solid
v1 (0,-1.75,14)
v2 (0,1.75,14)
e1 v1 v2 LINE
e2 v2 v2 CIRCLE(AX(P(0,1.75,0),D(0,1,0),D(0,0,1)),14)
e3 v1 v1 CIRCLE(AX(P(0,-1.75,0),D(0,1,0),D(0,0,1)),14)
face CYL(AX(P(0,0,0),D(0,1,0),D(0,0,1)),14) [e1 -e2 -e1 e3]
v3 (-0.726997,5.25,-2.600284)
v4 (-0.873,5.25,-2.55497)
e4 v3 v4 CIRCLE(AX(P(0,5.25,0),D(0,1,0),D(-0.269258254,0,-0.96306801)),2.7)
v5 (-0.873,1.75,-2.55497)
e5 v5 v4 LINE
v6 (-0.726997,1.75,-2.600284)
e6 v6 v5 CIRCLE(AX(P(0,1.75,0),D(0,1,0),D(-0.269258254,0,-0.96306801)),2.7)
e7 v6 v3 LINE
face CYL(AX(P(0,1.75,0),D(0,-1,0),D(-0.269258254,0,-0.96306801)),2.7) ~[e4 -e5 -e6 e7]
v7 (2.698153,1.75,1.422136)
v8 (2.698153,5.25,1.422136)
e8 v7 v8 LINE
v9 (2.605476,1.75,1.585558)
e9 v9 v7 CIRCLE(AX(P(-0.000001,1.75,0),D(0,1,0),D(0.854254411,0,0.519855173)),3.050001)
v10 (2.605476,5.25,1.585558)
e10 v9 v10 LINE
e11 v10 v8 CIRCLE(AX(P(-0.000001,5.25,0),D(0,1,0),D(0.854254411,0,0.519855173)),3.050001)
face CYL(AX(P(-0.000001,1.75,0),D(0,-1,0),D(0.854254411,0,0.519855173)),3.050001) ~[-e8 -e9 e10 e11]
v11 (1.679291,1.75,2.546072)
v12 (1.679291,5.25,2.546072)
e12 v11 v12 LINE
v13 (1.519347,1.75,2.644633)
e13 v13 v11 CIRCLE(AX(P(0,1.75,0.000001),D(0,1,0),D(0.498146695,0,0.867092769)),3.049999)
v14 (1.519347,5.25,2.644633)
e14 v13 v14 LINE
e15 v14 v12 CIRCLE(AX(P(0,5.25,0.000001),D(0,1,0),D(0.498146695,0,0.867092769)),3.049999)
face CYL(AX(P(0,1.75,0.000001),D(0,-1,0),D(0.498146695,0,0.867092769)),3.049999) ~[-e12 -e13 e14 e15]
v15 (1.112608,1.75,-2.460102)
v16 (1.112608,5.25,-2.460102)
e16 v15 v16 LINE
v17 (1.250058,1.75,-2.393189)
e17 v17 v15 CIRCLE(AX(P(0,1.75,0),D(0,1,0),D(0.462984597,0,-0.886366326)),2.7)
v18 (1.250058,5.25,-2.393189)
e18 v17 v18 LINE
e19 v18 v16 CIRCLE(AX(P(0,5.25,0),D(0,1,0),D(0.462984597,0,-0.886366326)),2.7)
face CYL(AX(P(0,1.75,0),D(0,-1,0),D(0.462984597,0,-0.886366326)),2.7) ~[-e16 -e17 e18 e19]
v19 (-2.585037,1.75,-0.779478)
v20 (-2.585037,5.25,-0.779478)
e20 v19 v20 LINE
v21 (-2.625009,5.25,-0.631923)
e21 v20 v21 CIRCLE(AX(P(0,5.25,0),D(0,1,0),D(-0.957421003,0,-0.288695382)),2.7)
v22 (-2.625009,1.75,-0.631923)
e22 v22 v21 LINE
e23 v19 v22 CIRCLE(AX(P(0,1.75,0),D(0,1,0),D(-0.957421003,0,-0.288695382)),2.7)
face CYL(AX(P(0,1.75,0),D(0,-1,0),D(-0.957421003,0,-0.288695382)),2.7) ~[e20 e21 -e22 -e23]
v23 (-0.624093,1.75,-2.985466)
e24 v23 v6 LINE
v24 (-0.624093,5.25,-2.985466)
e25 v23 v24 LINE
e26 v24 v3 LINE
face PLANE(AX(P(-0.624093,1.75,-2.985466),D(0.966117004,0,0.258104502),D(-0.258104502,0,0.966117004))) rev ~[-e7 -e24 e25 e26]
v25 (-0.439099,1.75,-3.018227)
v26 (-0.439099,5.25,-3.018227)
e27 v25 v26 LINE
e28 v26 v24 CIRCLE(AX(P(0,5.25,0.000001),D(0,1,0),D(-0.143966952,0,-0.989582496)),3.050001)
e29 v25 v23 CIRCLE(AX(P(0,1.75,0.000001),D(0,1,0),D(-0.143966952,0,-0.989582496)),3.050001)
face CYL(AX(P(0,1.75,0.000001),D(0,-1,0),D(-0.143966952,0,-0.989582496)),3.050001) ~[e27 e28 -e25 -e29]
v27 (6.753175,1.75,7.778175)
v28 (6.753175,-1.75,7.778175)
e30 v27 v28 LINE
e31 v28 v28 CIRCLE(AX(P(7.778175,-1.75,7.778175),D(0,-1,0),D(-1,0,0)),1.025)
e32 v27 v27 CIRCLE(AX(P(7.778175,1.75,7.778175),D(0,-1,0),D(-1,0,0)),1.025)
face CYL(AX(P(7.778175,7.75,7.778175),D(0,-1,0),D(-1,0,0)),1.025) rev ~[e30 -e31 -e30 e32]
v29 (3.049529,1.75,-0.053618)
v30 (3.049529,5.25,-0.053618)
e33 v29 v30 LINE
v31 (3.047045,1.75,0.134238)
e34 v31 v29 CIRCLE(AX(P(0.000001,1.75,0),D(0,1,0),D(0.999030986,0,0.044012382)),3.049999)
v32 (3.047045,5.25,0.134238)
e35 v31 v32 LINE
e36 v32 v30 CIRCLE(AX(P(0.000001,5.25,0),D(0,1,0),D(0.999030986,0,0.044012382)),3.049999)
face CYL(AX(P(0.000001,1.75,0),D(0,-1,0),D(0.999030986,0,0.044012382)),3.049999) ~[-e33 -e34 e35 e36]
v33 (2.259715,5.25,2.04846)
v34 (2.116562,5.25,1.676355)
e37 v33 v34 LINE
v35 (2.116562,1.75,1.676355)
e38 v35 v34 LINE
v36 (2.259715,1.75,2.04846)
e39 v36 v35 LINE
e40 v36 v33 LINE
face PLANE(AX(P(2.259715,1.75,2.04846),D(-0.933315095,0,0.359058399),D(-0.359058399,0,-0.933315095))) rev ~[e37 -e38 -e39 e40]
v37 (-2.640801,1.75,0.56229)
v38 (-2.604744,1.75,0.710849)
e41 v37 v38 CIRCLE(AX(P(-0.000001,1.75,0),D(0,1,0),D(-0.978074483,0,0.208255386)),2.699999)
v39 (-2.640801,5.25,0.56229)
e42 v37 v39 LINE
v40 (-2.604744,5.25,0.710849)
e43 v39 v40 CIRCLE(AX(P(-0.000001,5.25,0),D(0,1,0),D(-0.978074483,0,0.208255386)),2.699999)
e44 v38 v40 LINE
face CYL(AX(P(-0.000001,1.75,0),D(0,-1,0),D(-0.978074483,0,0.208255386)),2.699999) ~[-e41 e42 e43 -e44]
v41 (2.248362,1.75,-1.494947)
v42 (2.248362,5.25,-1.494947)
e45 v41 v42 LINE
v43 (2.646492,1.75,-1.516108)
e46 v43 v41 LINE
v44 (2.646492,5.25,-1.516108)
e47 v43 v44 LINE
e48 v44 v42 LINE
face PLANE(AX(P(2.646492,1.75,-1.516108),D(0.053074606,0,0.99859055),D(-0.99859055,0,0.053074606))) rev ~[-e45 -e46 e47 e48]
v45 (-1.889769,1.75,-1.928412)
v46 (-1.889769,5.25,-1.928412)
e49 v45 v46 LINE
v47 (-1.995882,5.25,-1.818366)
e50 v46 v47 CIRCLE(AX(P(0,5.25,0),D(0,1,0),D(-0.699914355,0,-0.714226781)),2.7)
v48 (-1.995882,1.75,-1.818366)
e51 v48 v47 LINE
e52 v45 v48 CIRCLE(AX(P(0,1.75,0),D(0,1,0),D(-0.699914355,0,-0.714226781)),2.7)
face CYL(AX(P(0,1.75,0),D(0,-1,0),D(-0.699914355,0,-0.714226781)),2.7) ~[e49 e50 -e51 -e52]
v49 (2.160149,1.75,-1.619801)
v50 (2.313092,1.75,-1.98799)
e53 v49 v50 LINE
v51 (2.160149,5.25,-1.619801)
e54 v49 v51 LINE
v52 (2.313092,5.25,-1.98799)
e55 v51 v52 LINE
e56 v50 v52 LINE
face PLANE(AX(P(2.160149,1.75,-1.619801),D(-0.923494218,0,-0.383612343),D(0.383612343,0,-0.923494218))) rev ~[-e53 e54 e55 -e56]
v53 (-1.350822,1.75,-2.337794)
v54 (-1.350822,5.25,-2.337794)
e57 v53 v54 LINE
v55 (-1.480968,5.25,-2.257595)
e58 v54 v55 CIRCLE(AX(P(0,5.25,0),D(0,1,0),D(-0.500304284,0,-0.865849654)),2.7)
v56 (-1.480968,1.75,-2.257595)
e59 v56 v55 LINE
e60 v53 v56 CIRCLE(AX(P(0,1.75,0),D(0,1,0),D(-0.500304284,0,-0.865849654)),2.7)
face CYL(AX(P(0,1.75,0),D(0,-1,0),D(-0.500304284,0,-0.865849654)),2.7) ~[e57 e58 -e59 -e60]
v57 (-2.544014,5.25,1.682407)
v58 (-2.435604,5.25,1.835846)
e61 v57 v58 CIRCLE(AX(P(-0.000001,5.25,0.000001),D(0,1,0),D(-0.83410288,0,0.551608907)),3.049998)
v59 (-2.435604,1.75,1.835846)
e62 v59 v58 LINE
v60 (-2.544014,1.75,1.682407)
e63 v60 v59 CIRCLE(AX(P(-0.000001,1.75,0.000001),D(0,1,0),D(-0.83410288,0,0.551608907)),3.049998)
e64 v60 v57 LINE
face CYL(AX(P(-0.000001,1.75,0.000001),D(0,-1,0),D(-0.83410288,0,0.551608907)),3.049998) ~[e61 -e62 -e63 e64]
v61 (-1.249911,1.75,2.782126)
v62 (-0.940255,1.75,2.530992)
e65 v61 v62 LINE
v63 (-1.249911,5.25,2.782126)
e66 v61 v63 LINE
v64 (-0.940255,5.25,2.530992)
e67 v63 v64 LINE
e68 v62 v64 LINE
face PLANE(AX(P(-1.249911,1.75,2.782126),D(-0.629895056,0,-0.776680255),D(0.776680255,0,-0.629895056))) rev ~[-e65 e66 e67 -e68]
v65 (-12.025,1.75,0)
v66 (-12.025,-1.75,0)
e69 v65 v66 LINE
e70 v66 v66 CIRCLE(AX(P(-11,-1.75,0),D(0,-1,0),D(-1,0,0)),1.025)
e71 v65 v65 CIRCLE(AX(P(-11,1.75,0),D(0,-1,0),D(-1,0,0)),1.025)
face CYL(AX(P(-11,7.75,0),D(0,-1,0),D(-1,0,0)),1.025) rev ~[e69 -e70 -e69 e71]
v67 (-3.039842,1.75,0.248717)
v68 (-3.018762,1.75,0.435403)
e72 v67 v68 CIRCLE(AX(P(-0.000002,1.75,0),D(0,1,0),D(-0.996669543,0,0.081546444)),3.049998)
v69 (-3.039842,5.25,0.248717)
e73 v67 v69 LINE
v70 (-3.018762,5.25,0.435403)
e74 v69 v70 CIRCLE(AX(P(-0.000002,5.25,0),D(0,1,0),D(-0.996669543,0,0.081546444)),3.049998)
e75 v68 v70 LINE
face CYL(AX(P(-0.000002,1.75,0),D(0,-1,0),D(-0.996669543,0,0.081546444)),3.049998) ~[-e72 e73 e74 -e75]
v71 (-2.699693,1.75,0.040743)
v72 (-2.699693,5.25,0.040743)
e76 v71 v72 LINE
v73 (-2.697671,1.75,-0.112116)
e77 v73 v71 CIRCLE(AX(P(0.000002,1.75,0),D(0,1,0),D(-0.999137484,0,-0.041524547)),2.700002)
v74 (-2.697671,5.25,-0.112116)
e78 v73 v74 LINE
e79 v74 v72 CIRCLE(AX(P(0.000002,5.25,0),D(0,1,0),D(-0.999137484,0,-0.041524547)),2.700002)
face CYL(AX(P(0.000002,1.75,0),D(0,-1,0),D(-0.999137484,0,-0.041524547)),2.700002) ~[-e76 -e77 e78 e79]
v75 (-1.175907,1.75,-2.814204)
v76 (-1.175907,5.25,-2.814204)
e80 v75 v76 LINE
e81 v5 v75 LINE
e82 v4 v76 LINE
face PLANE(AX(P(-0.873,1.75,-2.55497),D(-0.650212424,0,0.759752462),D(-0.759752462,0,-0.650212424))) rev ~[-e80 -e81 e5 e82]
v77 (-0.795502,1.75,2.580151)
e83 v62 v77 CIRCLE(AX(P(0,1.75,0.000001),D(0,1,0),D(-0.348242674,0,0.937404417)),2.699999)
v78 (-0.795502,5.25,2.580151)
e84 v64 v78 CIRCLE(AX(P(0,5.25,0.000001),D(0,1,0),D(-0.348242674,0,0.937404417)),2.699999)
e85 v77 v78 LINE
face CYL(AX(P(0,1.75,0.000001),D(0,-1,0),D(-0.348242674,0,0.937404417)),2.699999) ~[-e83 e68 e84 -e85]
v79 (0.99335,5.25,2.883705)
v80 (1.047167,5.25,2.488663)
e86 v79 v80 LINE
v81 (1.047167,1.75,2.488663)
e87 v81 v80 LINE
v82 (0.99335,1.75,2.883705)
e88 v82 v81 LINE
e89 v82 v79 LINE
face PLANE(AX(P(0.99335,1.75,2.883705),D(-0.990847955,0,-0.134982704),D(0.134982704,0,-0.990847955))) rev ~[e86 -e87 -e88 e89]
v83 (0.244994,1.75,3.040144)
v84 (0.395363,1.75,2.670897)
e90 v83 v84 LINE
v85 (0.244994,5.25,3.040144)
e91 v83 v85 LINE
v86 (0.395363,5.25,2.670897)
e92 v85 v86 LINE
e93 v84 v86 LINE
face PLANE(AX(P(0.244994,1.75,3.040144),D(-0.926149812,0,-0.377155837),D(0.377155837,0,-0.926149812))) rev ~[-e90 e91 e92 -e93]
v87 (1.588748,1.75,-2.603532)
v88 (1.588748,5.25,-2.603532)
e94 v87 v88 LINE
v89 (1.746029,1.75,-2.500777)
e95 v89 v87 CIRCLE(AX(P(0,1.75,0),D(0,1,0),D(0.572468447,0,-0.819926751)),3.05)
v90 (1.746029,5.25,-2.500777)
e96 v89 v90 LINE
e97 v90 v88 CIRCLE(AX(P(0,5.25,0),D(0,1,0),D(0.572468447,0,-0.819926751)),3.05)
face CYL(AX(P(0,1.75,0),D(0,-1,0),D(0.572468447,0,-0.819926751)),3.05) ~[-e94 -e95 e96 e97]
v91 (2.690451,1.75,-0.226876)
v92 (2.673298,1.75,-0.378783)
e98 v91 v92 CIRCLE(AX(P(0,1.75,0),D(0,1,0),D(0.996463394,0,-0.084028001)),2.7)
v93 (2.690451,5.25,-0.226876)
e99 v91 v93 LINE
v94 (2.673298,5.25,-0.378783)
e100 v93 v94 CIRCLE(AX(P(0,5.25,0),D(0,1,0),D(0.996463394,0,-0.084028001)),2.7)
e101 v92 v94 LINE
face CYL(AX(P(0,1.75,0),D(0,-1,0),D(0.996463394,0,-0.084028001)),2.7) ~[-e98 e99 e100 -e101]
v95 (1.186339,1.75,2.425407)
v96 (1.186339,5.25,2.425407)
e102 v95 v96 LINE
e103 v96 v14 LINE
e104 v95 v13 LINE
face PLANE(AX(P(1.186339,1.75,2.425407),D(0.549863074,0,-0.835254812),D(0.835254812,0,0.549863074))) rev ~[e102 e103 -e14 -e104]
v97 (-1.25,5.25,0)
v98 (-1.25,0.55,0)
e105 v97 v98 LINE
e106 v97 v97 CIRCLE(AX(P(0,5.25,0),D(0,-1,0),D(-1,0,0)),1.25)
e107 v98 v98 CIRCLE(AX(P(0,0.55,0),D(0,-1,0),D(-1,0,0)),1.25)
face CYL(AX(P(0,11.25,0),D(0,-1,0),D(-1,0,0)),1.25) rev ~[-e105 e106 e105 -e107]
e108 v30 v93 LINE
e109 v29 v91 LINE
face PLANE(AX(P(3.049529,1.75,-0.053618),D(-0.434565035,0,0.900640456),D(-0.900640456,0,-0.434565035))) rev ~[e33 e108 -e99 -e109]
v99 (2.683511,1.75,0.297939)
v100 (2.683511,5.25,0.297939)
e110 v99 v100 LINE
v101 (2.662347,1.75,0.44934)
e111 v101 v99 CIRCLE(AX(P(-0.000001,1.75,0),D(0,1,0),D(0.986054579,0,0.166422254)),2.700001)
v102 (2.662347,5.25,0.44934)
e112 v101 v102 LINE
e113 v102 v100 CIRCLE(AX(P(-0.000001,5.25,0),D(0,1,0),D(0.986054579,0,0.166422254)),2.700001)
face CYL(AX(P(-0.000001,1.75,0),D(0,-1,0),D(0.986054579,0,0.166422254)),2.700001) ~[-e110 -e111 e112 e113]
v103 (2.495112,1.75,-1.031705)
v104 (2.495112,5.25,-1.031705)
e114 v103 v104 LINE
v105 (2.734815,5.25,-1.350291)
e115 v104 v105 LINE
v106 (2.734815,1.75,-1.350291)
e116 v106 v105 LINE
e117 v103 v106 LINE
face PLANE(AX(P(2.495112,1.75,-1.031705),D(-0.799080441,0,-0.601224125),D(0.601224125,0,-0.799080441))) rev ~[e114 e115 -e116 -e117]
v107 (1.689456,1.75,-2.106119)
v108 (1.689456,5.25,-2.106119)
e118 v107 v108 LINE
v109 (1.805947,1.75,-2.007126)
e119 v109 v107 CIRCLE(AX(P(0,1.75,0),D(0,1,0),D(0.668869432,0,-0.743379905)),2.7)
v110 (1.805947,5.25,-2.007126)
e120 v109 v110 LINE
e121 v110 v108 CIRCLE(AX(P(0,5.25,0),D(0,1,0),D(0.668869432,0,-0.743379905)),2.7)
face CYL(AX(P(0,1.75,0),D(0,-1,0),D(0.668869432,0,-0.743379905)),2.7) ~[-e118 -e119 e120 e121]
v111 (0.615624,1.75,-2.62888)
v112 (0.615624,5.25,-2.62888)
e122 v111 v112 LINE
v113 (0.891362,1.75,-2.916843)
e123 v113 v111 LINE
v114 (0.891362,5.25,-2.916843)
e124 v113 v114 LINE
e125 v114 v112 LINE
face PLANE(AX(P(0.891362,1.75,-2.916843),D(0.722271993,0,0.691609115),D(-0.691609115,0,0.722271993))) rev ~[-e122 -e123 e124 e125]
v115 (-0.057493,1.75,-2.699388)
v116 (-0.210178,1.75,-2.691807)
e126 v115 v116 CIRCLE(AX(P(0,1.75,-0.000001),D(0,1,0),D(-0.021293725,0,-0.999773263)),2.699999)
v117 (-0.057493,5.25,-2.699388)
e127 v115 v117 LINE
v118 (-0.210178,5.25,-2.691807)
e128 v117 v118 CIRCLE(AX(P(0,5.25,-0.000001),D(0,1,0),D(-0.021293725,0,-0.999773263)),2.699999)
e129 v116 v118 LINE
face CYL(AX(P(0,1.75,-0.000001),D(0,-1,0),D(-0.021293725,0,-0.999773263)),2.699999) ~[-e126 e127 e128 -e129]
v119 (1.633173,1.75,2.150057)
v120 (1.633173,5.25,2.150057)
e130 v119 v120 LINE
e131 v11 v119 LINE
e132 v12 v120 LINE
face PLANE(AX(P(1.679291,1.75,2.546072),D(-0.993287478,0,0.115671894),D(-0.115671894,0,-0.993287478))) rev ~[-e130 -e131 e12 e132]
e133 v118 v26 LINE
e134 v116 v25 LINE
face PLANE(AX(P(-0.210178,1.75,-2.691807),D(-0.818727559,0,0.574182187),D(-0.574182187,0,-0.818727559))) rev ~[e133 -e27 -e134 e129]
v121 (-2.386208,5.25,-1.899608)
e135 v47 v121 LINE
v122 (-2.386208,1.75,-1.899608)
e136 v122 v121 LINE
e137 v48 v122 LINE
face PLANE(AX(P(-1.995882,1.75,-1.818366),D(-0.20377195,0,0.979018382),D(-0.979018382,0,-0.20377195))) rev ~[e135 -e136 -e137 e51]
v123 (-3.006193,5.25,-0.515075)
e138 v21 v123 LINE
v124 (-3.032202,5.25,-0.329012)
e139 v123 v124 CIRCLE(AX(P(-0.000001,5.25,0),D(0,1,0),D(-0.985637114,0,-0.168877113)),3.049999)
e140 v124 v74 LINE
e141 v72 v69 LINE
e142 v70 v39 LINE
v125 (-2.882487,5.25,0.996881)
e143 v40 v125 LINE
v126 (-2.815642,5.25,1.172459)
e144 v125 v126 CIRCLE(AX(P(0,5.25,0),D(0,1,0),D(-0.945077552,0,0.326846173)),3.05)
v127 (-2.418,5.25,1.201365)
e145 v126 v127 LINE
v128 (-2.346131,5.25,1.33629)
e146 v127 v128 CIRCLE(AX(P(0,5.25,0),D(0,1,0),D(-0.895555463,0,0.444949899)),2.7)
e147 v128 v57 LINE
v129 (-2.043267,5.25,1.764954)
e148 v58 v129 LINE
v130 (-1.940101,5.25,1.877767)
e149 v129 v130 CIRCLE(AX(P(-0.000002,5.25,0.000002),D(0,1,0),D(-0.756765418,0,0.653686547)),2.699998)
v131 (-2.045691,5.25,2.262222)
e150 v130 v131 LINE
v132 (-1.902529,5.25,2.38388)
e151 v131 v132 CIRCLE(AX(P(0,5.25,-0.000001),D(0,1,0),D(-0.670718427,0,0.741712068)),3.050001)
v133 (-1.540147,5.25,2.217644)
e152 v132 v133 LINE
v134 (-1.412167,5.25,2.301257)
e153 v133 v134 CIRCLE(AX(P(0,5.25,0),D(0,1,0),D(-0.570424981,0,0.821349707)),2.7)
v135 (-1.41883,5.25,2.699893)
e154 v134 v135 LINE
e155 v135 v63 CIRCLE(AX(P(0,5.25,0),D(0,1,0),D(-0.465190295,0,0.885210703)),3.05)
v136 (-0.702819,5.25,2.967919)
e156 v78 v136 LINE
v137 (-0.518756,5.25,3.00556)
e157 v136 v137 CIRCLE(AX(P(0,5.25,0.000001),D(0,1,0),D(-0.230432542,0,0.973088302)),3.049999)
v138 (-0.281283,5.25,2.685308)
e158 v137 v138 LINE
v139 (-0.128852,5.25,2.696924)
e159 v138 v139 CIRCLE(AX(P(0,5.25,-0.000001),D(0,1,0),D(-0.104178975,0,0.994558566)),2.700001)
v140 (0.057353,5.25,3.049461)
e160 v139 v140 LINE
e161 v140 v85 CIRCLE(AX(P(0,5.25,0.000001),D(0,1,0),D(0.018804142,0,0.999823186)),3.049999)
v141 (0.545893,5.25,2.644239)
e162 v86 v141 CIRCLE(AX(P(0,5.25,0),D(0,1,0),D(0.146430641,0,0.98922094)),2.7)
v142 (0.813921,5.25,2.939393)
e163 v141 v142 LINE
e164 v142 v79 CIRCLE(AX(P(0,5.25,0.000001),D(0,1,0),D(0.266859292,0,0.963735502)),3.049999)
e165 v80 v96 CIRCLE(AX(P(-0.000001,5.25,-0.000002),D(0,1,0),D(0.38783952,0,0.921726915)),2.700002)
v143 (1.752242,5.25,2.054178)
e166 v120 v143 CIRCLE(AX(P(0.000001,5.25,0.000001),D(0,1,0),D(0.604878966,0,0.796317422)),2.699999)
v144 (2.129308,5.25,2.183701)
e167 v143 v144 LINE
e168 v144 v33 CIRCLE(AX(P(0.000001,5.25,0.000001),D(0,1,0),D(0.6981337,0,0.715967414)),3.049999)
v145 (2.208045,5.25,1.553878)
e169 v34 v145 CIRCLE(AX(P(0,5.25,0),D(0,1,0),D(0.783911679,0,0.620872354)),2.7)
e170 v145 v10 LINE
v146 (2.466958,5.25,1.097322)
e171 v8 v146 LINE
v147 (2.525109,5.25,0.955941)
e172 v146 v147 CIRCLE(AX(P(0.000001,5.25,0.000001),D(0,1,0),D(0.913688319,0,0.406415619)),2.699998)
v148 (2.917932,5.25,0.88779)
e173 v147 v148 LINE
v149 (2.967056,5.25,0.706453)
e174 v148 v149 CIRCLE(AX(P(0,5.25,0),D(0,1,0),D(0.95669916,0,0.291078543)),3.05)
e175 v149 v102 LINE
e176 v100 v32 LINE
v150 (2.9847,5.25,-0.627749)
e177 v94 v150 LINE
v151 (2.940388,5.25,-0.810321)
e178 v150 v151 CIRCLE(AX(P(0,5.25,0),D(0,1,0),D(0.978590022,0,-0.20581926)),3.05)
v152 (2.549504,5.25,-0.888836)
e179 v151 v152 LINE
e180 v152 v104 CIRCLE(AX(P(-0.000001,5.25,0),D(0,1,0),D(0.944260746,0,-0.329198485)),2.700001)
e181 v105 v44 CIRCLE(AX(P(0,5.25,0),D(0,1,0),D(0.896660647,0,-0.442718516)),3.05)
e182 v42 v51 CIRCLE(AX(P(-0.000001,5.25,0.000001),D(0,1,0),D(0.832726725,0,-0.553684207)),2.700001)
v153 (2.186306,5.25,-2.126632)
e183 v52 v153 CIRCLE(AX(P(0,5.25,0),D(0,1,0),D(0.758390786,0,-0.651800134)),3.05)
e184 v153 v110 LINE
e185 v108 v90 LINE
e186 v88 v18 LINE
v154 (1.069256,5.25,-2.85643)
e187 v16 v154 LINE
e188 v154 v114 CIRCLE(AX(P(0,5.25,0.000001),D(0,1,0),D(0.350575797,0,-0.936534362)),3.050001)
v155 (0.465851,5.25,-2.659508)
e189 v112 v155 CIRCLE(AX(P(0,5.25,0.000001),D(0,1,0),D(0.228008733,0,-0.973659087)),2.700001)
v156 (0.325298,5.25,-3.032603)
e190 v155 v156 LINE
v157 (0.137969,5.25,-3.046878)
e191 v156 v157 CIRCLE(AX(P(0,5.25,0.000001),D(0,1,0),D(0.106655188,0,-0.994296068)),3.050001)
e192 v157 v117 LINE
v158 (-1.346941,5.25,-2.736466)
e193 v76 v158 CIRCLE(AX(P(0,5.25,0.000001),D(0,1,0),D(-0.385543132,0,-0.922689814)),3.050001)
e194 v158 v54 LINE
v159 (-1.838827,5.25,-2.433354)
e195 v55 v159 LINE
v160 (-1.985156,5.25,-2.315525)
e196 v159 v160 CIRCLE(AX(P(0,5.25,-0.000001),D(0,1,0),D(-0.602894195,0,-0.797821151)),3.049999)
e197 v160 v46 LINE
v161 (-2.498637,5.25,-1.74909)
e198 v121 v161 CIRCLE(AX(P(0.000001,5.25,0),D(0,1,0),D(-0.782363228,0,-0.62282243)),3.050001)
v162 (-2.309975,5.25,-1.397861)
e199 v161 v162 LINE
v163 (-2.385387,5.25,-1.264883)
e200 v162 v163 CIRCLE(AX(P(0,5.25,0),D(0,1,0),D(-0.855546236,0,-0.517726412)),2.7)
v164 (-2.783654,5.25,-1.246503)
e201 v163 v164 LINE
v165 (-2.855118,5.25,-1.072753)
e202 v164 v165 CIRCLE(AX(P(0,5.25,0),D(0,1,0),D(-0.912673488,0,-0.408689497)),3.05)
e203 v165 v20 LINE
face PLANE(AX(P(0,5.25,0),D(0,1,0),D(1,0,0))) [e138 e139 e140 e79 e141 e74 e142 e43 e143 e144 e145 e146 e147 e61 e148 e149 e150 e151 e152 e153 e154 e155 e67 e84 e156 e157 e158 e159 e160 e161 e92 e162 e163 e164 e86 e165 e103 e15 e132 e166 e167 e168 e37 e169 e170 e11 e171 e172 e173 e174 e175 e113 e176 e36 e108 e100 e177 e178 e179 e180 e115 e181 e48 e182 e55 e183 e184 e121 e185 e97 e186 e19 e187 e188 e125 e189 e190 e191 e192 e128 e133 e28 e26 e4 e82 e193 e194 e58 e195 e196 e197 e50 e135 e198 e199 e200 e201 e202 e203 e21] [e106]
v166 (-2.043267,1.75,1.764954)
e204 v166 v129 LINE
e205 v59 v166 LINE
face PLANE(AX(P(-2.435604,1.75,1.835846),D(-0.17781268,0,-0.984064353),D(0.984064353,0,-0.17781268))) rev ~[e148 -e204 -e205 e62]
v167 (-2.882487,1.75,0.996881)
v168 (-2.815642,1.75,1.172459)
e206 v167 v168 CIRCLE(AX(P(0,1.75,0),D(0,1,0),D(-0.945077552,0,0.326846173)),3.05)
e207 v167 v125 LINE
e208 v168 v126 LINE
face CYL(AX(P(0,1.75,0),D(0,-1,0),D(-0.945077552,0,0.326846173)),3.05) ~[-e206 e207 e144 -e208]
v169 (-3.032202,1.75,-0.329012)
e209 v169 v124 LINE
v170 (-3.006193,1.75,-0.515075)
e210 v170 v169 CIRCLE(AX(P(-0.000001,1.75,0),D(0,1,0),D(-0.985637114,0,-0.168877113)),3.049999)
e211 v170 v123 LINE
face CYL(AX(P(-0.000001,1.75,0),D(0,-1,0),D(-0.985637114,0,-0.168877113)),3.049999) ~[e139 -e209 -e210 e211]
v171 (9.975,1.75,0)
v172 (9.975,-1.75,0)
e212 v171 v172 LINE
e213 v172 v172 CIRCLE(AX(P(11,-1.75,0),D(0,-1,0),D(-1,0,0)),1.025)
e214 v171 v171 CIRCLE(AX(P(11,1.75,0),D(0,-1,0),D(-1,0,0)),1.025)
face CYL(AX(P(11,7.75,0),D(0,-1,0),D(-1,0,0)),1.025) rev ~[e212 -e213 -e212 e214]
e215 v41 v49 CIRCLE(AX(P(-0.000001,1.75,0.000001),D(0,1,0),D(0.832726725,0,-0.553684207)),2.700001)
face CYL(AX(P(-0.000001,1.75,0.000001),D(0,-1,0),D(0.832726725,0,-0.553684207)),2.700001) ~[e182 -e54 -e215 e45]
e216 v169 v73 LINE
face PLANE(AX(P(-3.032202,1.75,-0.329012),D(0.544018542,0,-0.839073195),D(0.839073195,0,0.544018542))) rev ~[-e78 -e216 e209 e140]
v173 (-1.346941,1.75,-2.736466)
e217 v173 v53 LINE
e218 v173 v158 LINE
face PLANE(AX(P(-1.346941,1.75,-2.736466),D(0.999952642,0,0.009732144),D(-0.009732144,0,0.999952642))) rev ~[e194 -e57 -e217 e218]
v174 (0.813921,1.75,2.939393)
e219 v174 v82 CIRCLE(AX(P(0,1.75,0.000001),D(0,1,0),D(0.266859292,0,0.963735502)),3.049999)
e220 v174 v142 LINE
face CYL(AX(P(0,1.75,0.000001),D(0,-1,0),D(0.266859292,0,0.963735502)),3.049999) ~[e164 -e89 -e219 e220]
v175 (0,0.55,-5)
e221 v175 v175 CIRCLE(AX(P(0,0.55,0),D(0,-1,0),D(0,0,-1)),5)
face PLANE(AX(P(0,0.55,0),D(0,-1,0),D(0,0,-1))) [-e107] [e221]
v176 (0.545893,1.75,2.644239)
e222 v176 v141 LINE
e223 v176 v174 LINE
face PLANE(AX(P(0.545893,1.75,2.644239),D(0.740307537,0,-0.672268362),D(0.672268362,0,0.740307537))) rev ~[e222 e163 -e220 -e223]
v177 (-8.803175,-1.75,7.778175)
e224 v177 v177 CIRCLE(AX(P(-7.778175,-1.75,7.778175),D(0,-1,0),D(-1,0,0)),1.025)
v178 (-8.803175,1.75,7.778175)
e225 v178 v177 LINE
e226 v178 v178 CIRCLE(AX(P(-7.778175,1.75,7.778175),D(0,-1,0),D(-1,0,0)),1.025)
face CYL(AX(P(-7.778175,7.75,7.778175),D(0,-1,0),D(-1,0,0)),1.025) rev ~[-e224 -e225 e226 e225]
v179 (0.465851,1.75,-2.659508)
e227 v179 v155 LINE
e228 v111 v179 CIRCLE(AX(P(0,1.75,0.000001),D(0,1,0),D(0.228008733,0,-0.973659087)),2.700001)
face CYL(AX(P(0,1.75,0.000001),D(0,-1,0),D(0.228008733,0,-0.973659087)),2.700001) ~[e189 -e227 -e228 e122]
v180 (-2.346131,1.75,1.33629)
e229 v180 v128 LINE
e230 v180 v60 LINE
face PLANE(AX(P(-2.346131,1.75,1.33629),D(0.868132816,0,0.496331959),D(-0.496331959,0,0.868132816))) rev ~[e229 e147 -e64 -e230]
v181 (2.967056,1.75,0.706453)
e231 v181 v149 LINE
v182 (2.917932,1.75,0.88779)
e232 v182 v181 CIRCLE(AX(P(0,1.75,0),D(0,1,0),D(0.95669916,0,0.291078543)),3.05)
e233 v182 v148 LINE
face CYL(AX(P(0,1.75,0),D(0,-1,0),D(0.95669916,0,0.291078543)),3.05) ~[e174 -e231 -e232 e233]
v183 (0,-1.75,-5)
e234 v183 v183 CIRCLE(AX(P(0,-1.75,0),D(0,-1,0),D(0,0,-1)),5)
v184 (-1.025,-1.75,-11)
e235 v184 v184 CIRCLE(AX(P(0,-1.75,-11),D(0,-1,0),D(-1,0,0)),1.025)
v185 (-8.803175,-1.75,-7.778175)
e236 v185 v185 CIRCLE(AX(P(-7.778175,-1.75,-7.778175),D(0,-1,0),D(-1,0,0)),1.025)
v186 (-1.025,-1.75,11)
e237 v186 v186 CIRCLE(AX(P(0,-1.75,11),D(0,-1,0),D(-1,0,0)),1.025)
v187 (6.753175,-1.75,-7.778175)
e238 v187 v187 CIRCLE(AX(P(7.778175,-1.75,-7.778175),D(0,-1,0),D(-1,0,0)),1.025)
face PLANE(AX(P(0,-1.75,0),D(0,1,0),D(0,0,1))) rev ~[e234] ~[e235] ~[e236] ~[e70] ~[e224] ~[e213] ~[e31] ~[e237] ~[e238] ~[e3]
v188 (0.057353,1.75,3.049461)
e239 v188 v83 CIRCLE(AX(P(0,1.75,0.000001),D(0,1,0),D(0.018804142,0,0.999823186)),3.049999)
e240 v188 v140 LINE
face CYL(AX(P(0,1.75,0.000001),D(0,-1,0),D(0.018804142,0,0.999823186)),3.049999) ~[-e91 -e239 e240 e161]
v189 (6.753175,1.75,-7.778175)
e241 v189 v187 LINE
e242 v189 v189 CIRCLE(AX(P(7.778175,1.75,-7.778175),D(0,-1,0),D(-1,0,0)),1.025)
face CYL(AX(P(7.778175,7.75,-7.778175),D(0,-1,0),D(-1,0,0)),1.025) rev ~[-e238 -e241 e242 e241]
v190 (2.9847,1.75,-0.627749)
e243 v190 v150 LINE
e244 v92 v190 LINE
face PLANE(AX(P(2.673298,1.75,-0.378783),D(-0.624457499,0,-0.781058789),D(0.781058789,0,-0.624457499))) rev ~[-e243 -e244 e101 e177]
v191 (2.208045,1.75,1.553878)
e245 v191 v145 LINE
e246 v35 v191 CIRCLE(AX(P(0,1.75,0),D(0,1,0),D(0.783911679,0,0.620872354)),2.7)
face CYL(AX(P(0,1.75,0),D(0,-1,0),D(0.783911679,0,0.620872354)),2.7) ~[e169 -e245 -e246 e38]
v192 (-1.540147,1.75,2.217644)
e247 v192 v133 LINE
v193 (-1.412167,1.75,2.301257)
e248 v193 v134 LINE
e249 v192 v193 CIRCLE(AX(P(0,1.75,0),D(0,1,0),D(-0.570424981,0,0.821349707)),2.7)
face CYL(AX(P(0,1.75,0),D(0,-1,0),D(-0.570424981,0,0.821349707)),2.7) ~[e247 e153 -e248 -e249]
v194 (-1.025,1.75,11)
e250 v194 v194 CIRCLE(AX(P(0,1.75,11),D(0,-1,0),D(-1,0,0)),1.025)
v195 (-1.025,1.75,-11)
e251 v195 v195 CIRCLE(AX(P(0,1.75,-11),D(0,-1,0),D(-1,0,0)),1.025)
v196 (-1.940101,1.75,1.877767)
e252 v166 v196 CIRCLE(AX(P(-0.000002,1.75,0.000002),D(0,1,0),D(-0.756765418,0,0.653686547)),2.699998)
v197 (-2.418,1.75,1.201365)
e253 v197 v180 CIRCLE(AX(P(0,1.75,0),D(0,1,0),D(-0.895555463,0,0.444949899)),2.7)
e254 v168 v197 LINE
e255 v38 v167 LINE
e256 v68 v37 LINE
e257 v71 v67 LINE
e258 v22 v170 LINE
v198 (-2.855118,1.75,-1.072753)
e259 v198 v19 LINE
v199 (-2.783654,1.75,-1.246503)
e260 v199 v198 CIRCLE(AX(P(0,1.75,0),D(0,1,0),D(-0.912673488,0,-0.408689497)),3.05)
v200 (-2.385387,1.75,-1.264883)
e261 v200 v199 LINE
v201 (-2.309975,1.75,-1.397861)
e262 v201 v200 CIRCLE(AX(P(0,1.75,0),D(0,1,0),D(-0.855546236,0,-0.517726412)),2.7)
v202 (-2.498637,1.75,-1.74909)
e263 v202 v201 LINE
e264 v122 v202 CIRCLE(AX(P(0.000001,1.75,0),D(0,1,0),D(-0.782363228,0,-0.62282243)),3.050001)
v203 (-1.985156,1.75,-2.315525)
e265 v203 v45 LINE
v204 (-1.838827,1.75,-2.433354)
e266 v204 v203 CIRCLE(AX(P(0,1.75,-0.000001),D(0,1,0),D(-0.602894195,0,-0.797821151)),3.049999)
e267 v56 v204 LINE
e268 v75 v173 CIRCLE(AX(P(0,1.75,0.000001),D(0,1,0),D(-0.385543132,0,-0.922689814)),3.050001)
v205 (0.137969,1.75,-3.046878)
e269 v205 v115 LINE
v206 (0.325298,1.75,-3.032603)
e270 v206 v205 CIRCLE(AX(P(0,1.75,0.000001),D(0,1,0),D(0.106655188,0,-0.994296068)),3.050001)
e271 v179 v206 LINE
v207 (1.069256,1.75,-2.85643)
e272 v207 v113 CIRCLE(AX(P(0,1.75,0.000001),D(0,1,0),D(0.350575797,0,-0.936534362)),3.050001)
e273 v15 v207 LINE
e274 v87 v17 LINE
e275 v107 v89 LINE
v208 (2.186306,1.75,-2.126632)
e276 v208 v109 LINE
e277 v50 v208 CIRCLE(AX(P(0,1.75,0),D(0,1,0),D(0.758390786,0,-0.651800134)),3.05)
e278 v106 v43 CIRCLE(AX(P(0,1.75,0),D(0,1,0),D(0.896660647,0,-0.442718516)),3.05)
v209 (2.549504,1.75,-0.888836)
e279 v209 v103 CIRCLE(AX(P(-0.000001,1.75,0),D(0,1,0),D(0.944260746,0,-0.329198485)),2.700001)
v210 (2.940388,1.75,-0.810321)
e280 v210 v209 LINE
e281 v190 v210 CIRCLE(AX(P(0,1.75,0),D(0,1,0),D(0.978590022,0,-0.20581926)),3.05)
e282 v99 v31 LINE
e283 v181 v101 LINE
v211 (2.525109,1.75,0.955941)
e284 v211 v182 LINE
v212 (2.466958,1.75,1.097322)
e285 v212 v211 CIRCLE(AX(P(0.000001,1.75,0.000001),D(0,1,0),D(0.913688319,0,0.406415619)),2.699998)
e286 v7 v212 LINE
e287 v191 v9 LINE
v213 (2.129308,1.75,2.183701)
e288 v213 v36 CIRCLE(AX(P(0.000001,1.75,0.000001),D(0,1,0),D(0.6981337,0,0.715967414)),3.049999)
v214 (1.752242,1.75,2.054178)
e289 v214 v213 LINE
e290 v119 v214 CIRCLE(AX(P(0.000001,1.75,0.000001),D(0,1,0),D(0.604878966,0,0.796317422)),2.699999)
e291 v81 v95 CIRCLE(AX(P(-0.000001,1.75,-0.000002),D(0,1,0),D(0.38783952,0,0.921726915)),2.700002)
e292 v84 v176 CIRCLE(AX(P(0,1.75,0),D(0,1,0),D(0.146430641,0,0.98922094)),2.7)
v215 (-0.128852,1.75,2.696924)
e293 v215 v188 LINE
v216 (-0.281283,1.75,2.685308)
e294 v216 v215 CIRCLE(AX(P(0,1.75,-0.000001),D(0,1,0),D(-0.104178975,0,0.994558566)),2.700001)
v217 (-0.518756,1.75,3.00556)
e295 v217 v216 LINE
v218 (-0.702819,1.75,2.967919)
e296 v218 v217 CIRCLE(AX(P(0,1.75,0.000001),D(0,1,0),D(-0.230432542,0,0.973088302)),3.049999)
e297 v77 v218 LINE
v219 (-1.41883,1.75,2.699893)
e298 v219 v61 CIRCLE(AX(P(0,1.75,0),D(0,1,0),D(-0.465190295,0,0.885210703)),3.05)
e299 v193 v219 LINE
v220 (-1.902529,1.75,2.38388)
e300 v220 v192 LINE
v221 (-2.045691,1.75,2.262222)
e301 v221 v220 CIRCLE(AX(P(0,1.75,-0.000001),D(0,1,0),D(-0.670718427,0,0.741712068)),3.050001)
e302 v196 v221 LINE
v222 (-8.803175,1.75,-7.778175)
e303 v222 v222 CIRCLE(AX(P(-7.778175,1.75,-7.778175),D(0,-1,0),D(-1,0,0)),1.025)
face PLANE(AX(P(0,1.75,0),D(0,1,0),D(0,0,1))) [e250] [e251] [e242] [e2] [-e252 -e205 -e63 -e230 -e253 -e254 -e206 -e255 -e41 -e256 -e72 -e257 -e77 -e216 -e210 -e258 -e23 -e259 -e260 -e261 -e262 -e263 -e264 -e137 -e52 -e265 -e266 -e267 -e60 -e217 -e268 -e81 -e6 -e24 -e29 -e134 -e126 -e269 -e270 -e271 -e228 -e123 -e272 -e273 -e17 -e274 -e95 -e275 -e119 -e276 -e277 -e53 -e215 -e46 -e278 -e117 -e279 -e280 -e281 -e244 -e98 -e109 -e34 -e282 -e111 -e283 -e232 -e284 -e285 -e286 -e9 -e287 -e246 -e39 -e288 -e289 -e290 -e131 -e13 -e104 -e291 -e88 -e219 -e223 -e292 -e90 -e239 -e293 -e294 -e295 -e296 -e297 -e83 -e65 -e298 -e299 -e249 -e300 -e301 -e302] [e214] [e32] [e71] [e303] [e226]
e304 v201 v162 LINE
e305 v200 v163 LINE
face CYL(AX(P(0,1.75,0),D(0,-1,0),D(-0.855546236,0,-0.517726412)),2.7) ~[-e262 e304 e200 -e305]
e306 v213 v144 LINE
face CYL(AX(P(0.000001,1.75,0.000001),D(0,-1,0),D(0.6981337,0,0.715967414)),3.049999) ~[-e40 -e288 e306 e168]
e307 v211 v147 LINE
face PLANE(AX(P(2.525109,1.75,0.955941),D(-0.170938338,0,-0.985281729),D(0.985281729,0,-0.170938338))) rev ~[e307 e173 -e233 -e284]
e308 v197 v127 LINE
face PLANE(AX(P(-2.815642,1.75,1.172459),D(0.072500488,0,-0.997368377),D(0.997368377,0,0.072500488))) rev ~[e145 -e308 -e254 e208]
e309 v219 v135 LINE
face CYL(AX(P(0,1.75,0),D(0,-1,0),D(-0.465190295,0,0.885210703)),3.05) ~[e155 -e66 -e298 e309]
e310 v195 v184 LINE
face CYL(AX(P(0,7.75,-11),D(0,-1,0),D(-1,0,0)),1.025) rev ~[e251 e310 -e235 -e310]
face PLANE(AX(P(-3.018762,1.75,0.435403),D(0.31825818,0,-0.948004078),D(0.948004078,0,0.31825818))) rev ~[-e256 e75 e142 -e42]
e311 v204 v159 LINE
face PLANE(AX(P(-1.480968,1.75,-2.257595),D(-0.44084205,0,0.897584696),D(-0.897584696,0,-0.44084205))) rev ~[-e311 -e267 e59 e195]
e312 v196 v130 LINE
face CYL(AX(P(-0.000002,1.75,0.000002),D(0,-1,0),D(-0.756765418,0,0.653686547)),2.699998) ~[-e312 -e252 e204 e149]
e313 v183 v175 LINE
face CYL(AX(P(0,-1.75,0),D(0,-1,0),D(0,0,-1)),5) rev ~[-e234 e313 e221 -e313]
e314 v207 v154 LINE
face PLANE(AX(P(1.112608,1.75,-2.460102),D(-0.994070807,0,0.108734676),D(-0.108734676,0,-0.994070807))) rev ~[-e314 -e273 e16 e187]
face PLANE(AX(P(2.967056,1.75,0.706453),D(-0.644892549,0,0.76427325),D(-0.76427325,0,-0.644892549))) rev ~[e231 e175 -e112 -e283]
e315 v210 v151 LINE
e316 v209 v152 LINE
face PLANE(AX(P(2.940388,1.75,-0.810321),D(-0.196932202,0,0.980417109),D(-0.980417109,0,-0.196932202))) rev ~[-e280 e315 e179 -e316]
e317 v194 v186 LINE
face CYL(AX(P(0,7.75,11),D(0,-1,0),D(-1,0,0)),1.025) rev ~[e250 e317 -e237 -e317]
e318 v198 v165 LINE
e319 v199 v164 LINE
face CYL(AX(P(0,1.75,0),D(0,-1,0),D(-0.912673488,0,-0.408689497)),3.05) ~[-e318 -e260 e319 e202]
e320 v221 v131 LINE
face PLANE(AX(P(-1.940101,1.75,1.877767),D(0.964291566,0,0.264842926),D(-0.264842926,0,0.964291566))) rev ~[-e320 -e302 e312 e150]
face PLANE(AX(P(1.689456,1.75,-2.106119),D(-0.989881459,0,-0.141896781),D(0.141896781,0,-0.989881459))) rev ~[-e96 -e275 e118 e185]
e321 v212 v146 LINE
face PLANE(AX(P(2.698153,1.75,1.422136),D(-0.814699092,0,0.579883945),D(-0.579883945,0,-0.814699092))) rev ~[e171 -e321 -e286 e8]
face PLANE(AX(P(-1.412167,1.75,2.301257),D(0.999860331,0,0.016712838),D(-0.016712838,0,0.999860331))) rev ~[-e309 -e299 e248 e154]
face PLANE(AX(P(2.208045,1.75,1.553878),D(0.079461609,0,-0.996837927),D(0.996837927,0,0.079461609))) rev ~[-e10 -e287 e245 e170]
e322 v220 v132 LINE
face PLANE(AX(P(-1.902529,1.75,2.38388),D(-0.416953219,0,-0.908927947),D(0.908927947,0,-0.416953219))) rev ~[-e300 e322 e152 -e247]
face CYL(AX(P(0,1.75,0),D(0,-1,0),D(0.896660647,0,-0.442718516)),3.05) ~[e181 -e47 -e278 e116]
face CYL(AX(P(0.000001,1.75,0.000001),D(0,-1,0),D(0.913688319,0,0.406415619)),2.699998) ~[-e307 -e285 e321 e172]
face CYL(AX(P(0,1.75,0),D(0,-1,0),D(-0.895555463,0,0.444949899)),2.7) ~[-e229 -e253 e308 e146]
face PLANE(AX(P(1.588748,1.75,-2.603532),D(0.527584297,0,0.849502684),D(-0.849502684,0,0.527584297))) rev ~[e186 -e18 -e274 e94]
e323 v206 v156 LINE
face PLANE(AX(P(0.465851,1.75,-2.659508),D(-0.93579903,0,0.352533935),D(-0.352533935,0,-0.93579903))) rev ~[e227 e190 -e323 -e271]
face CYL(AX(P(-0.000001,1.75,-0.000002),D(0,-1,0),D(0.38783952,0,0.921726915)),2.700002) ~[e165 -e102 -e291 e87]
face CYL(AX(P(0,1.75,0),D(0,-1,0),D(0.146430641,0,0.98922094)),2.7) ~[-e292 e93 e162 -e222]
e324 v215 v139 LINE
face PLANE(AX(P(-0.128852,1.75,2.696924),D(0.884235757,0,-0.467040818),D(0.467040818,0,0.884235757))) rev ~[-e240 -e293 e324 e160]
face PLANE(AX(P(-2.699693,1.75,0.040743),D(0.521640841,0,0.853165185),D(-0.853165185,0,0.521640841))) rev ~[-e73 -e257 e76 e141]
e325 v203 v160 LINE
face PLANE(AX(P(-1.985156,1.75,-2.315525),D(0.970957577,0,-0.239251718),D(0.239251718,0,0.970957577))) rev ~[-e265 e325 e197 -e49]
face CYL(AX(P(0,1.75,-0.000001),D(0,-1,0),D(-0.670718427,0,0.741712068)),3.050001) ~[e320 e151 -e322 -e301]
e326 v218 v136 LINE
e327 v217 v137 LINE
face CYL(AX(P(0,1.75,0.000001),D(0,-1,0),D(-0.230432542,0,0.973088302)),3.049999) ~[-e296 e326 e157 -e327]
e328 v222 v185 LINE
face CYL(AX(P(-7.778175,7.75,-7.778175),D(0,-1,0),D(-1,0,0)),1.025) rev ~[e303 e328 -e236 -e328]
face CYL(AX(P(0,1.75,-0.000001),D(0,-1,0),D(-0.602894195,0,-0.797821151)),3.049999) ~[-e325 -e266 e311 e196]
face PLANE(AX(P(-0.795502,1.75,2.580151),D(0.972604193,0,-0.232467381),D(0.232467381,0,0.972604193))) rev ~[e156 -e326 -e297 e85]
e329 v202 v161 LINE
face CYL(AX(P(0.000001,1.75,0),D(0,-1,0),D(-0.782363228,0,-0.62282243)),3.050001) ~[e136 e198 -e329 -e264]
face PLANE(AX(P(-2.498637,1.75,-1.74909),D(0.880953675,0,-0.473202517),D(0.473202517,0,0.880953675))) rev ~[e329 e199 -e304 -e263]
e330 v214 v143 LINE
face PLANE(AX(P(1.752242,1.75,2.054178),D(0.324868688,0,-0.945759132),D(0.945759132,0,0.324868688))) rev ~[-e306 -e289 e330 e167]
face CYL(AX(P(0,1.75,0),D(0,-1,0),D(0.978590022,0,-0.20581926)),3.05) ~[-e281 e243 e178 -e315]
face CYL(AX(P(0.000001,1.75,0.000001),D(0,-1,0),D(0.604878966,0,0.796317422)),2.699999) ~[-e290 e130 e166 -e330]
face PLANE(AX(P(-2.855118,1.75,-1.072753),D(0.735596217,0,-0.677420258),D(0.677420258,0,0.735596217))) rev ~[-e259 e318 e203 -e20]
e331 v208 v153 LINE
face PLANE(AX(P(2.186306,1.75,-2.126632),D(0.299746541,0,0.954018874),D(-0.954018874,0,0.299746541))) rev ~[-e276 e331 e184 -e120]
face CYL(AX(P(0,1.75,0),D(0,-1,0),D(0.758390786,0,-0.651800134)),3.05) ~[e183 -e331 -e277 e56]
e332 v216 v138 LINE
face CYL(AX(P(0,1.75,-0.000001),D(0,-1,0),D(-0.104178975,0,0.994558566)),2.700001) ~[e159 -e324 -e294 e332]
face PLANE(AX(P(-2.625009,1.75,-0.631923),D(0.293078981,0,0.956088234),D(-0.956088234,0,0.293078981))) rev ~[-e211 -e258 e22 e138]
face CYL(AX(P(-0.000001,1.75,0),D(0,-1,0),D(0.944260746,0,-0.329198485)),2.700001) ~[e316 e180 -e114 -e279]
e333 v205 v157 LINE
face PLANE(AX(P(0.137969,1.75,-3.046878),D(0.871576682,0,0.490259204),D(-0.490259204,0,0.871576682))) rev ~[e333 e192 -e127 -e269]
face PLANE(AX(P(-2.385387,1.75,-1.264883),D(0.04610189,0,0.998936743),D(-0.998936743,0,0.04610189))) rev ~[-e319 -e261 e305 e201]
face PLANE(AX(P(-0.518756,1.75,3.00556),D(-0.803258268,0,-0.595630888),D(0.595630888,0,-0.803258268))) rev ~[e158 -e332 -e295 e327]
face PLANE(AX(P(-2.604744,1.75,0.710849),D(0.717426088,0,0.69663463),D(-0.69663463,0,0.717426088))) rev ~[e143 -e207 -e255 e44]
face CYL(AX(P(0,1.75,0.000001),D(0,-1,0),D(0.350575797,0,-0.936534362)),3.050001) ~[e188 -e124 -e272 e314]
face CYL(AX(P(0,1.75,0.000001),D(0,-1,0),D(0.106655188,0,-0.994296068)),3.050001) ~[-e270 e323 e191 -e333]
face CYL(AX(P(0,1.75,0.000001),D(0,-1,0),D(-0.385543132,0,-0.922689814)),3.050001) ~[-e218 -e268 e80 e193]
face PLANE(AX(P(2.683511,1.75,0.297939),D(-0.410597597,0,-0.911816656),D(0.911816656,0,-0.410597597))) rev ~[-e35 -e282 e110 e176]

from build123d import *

# Parameters (mm, degrees)
SKETCH1_R                          = 14
BOSS_EXTRUDE1_DEPTH                = 1.75
TAP_DRILL_FOR_M2_5X0_45_TAP1_D     = 2.05
TAP_DRILL_FOR_M2_5X0_45_TAP1_DEPTH = 6
TAP_DRILL_FOR_M2_5X0_45_TAP1_TIP   = 0.615882135
SKETCH7_R                          = 5
CUT_EXTRUDE1_DEPTH                 = 2.3
BOSS_EXTRUDE3_DEPTH                = 3.5
TAP_DRILL_FOR_M3X0_5_TAP1_D        = 2.5
TAP_DRILL_FOR_M3X0_5_TAP1_DEPTH    = 6
TAP_DRILL_FOR_M3X0_5_TAP1_TIP      = 0.751075774


with BuildPart() as part:
    # Sketch1 → Boss-Extrude1 (new, symmetric)
    with BuildSketch(Plane(origin=(0, 0, 0), x_dir=(1, 0, 0), z_dir=(0, 1, 0))):
        with Locations(Location((0, 0, 0), (0, 0, 270))):
            Circle(SKETCH1_R)
    extrude(amount=BOSS_EXTRUDE1_DEPTH, both=True)

    # Tap Drill for M2.5x0.45 Tap1
    with Locations(Plane(origin=(0, 1.75, 0), x_dir=(1, 0, 0), z_dir=(0, 1, 0))):
        with Locations((-11, 0), (-7.778174593, 7.778174593), (0, 11), (7.778174593, 7.778174593), (11, 0), (7.778174593, -7.778174593), (0, -11), (-7.778174593, -7.778174593)):
            Hole(TAP_DRILL_FOR_M2_5X0_45_TAP1_D / 2, depth=TAP_DRILL_FOR_M2_5X0_45_TAP1_DEPTH)
            with Locations((0, 0, -(TAP_DRILL_FOR_M2_5X0_45_TAP1_DEPTH + TAP_DRILL_FOR_M2_5X0_45_TAP1_TIP / 2))):  # 118° drill point
                Cone(0, TAP_DRILL_FOR_M2_5X0_45_TAP1_D / 2, TAP_DRILL_FOR_M2_5X0_45_TAP1_TIP, mode=Mode.SUBTRACT)

    # Sketch7 → Cut-Extrude1 (cut)
    with BuildSketch(Plane.XZ.offset(1.75)):
        with Locations(Location((0, 0, 0), (0, 0, 270))):
            Circle(SKETCH7_R)
    extrude(amount=-CUT_EXTRUDE1_DEPTH, mode=Mode.SUBTRACT)

    # Sketch8 → Boss-Extrude3 (add)
    with BuildSketch(Plane(origin=(0, 1.75, 0), x_dir=(1, 0, 0), z_dir=(0, 1, 0))):
        with BuildLine():
            Line((-0.128852443, -2.696923627), (0.057352661, -3.049460718))
            ThreePointArc((0.057352661, -3.049460718), (0.151245078, -3.04624768), (0.244993995, -3.040144395))
            Line((0.244993995, -3.040144395), (0.395362741, -2.670896535))
            ThreePointArc((0.395362741, -2.670896535), (0.470816738, -2.658633408), (0.545893326, -2.644239111))
            Line((0.545893326, -2.644239111), (0.813920864, -2.939393275))
            ThreePointArc((0.813920864, -2.939393275), (0.904064427, -2.912931086), (0.993350224, -2.883705139))
            Line((0.993350224, -2.883705139), (1.047166652, -2.488662694))
            ThreePointArc((1.047166652, -2.488662694), (1.117200406, -2.458020189), (1.18633861, -2.425407327))
            Line((1.18633861, -2.425407327), (1.519347425, -2.644632943))
            ThreePointArc((1.519347425, -2.644632943), (1.600078084, -2.596584319), (1.679290606, -2.546072084))
            Line((1.679290606, -2.546072084), (1.63317323, -2.150057022))
            ThreePointArc((1.63317323, -2.150057022), (1.693386265, -2.102960522), (1.752241875, -2.054178281))
            Line((1.752241875, -2.054178281), (2.1293078, -2.183700596))
            ThreePointArc((2.1293078, -2.183700596), (2.19555295, -2.11708461), (2.259714983, -2.048459957))
            Line((2.259714983, -2.048459957), (2.116561528, -1.676355361))
            ThreePointArc((2.116561528, -1.676355361), (2.163170436, -1.615764111), (2.208045339, -1.553877659))
            Line((2.208045339, -1.553877659), (2.605475935, -1.58555831))
            ThreePointArc((2.605475935, -1.58555831), (2.653073149, -1.504560688), (2.698153157, -1.422135556))
            Line((2.698153157, -1.422135556), (2.466958481, -1.097322127))
            ThreePointArc((2.466958481, -1.097322127), (2.497034654, -1.027043299), (2.525109194, -0.955941189))
            Line((2.525109194, -0.955941189), (2.917932434, -0.887789563))
            ThreePointArc((2.917932434, -0.887789563), (2.943891005, -0.797499685), (2.967056445, -0.706453148))
            Line((2.967056445, -0.706453148), (2.66234736, -0.449340108))
            ThreePointArc((2.66234736, -0.449340108), (2.674001, -0.373789578), (2.683511152, -0.297939418))
            Line((2.683511152, -0.297939418), (3.047044507, -0.134237734))
            ThreePointArc((3.047044507, -0.134237734), (3.049733363, -0.040328844), (3.049528665, 0.053618309))
            Line((3.049528665, 0.053618309), (2.690451163, 0.226875602))
            ThreePointArc((2.690451163, 0.226875602), (2.68295003, 0.302950716), (2.673298235, 0.378782983))
            Line((2.673298235, 0.378782983), (2.984699568, 0.627748746))
            ThreePointArc((2.984699568, 0.627748746), (2.963949757, 0.719376006), (2.940387783, 0.810320731))
            Line((2.940387783, 0.810320731), (2.549504025, 0.888835884))
            ThreePointArc((2.549504025, 0.888835884), (2.523319442, 0.960655502), (2.495112158, 1.031705055))
            Line((2.495112158, 1.031705055), (2.734814978, 1.350291464))
            ThreePointArc((2.734814978, 1.350291464), (2.691930287, 1.433879817), (2.646491522, 1.516107721))
            Line((2.646491522, 1.516107721), (2.248362172, 1.494947338))
            ThreePointArc((2.248362172, 1.494947338), (2.205139413, 1.55799877), (2.160149007, 1.619801305))
            Line((2.160149007, 1.619801305), (2.313091905, 1.987990402))
            ThreePointArc((2.313091905, 1.987990402), (2.250766937, 2.058287685), (2.186306467, 2.126632087))
            Line((2.186306467, 2.126632087), (1.805947455, 2.007125753))
            ThreePointArc((1.805947455, 2.007125753), (1.748402365, 2.057447246), (1.68945575, 2.106119481))
            Line((1.68945575, 2.106119481), (1.74602876, 2.500776593))
            ThreePointArc((1.74602876, 2.500776593), (1.668179623, 2.553365768), (1.588747735, 2.603532338))
            Line((1.588747735, 2.603532338), (1.250058417, 2.393189076))
            ThreePointArc((1.250058417, 2.393189076), (1.181806766, 2.427618744), (1.112607775, 2.460102424))
            Line((1.112607775, 2.460102424), (1.069256207, 2.856429793))
            ThreePointArc((1.069256207, 2.856429793), (0.980774447, 2.888006489), (0.89136214, 2.916843077))
            Line((0.89136214, 2.916843077), (0.615623612, 2.628879527))
            ThreePointArc((0.615623612, 2.628879527), (0.540953902, 2.645254028), (0.465850562, 2.659508085))
            Line((0.465850562, 2.659508085), (0.325298354, 3.032603004))
            ThreePointArc((0.325298354, 3.032603004), (0.231743607, 3.041183141), (0.137968984, 3.046877838))
            Line((0.137968984, 3.046877838), (-0.057493089, 2.699387809))
            ThreePointArc((-0.057493089, 2.699387809), (-0.133889085, 2.696678274), (-0.210177756, 2.691807071))
            Line((-0.210177756, 2.691807071), (-0.439099191, 3.018226615))
            ThreePointArc((-0.439099191, 3.018226615), (-0.531848537, 3.003271072), (-0.624093271, 2.985466059))
            Line((-0.624093271, 2.985466059), (-0.726997287, 2.600283627))
            ThreePointArc((-0.726997287, 2.600283627), (-0.800319329, 2.578660305), (-0.872999832, 2.55496992))
            Line((-0.872999832, 2.55496992), (-1.175906519, 2.814203948))
            ThreePointArc((-1.175906519, 2.814203948), (-1.262022681, 2.776652436), (-1.346941451, 2.736466467))
            Line((-1.346941451, 2.736466467), (-1.350821572, 2.337794062))
            ThreePointArc((-1.350821572, 2.337794062), (-1.416462566, 2.298615626), (-1.480968118, 2.257594612))
            Line((-1.480968118, 2.257594612), (-1.838827315, 2.433354496))
            ThreePointArc((-1.838827315, 2.433354496), (-1.912899299, 2.375566516), (-1.985156345, 2.315524624))
            Line((-1.985156345, 2.315524624), (-1.88976877, 1.928412299))
            ThreePointArc((-1.88976877, 1.928412299), (-1.943604251, 1.874140474), (-1.995881731, 1.818366332))
            Line((-1.995881731, 1.818366332), (-2.386207829, 1.899608433))
            ThreePointArc((-2.386207829, 1.899608433), (-2.443581419, 1.825215014), (-2.498636566, 1.749089852))
            Line((-2.498636566, 1.749089852), (-2.309974846, 1.397861298))
            ThreePointArc((-2.309974846, 1.397861298), (-2.348622132, 1.331906183), (-2.385386754, 1.264883407))
            Line((-2.385386754, 1.264883407), (-2.783654129, 1.246502985))
            ThreePointArc((-2.783654129, 1.246502985), (-2.820724331, 1.160178541), (-2.855118261, 1.072753333))
            Line((-2.855118261, 1.072753333), (-2.585036707, 0.779477531))
            ThreePointArc((-2.585036707, 0.779477531), (-2.606067447, 0.705983328), (-2.625009154, 0.631923206))
            Line((-2.625009154, 0.631923206), (-3.006193202, 0.51507517))
            ThreePointArc((-3.006193202, 0.51507517), (-3.02063076, 0.422243783), (-3.032202376, 0.329011776))
            Line((-3.032202376, 0.329011776), (-2.697671205, 0.112116324))
            ThreePointArc((-2.697671205, 0.112116324), (-2.69976396, 0.035700944), (-2.699692576, -0.040743054))
            Line((-2.699692576, -0.040743054), (-3.0398421, -0.248716711))
            ThreePointArc((-3.0398421, -0.248716711), (-3.030739849, -0.342222105), (-3.018762064, -0.435402801))
            Line((-3.018762064, -0.435402801), (-2.640801099, -0.562289564))
            ThreePointArc((-2.640801099, -0.562289564), (-2.623824375, -0.636824661), (-2.604744383, -0.710849278))
            Line((-2.604744383, -0.710849278), (-2.88248654, -0.996880808))
            ThreePointArc((-2.88248654, -0.996880808), (-2.850416406, -1.085184919), (-2.815641829, -1.172459418))
            Line((-2.815641829, -1.172459418), (-2.417999748, -1.201364731))
            ThreePointArc((-2.417999748, -1.201364731), (-2.383020254, -1.269336231), (-2.346130522, -1.336290227))
            Line((-2.346130522, -1.336290227), (-2.544013749, -1.682407216))
            ThreePointArc((-2.544013749, -1.682407216), (-2.490990819, -1.759961574), (-2.435604463, -1.835846099))
            Line((-2.435604463, -1.835846099), (-2.04326658, -1.764953733))
            ThreePointArc((-2.04326658, -1.764953733), (-1.992482207, -1.822090738), (-1.940100652, -1.877767147))
            Line((-1.940100652, -1.877767147), (-2.045691219, -2.262221792))
            ThreePointArc((-2.045691219, -2.262221792), (-1.975047116, -2.32415337), (-1.902529111, -2.383879817))
            Line((-1.902529111, -2.383879817), (-1.540147459, -2.217644202))
            ThreePointArc((-1.540147459, -2.217644202), (-1.476749174, -2.260356582), (-1.412167122, -2.301257052))
            Line((-1.412167122, -2.301257052), (-1.418830385, -2.699892653))
            ThreePointArc((-1.418830385, -2.699892653), (-1.33500394, -2.742310063), (-1.249910858, -2.782125599))
            Line((-1.249910858, -2.782125599), (-0.940255208, -2.530991929))
            ThreePointArc((-0.940255208, -2.530991929), (-0.86822656, -2.556595909), (-0.795501939, -2.580150512))
            Line((-0.795501939, -2.580150512), (-0.70281922, -2.967919329))
            ThreePointArc((-0.70281922, -2.967919329), (-0.611077556, -2.988157329), (-0.518756109, -3.005560197))
            Line((-0.518756109, -3.005560197), (-0.281283264, -2.685308125))
            ThreePointArc((-0.281283264, -2.685308125), (-0.205150078, -2.692194912), (-0.128852443, -2.696923627))
        make_face()
    extrude(amount=BOSS_EXTRUDE3_DEPTH)

    # Tap Drill for M3x0.5 Tap1
    with Locations(Plane(origin=(0, 5.25, 0), x_dir=(1, 0, 0), z_dir=(0, 1, 0))):
        with Locations((0, 0)):
            Hole(TAP_DRILL_FOR_M3X0_5_TAP1_D / 2, depth=TAP_DRILL_FOR_M3X0_5_TAP1_DEPTH)
            with Locations((0, 0, -(TAP_DRILL_FOR_M3X0_5_TAP1_DEPTH + TAP_DRILL_FOR_M3X0_5_TAP1_TIP / 2))):  # 118° drill point
                Cone(0, TAP_DRILL_FOR_M3X0_5_TAP1_D / 2, TAP_DRILL_FOR_M3X0_5_TAP1_TIP, mode=Mode.SUBTRACT)


solid = part.part
